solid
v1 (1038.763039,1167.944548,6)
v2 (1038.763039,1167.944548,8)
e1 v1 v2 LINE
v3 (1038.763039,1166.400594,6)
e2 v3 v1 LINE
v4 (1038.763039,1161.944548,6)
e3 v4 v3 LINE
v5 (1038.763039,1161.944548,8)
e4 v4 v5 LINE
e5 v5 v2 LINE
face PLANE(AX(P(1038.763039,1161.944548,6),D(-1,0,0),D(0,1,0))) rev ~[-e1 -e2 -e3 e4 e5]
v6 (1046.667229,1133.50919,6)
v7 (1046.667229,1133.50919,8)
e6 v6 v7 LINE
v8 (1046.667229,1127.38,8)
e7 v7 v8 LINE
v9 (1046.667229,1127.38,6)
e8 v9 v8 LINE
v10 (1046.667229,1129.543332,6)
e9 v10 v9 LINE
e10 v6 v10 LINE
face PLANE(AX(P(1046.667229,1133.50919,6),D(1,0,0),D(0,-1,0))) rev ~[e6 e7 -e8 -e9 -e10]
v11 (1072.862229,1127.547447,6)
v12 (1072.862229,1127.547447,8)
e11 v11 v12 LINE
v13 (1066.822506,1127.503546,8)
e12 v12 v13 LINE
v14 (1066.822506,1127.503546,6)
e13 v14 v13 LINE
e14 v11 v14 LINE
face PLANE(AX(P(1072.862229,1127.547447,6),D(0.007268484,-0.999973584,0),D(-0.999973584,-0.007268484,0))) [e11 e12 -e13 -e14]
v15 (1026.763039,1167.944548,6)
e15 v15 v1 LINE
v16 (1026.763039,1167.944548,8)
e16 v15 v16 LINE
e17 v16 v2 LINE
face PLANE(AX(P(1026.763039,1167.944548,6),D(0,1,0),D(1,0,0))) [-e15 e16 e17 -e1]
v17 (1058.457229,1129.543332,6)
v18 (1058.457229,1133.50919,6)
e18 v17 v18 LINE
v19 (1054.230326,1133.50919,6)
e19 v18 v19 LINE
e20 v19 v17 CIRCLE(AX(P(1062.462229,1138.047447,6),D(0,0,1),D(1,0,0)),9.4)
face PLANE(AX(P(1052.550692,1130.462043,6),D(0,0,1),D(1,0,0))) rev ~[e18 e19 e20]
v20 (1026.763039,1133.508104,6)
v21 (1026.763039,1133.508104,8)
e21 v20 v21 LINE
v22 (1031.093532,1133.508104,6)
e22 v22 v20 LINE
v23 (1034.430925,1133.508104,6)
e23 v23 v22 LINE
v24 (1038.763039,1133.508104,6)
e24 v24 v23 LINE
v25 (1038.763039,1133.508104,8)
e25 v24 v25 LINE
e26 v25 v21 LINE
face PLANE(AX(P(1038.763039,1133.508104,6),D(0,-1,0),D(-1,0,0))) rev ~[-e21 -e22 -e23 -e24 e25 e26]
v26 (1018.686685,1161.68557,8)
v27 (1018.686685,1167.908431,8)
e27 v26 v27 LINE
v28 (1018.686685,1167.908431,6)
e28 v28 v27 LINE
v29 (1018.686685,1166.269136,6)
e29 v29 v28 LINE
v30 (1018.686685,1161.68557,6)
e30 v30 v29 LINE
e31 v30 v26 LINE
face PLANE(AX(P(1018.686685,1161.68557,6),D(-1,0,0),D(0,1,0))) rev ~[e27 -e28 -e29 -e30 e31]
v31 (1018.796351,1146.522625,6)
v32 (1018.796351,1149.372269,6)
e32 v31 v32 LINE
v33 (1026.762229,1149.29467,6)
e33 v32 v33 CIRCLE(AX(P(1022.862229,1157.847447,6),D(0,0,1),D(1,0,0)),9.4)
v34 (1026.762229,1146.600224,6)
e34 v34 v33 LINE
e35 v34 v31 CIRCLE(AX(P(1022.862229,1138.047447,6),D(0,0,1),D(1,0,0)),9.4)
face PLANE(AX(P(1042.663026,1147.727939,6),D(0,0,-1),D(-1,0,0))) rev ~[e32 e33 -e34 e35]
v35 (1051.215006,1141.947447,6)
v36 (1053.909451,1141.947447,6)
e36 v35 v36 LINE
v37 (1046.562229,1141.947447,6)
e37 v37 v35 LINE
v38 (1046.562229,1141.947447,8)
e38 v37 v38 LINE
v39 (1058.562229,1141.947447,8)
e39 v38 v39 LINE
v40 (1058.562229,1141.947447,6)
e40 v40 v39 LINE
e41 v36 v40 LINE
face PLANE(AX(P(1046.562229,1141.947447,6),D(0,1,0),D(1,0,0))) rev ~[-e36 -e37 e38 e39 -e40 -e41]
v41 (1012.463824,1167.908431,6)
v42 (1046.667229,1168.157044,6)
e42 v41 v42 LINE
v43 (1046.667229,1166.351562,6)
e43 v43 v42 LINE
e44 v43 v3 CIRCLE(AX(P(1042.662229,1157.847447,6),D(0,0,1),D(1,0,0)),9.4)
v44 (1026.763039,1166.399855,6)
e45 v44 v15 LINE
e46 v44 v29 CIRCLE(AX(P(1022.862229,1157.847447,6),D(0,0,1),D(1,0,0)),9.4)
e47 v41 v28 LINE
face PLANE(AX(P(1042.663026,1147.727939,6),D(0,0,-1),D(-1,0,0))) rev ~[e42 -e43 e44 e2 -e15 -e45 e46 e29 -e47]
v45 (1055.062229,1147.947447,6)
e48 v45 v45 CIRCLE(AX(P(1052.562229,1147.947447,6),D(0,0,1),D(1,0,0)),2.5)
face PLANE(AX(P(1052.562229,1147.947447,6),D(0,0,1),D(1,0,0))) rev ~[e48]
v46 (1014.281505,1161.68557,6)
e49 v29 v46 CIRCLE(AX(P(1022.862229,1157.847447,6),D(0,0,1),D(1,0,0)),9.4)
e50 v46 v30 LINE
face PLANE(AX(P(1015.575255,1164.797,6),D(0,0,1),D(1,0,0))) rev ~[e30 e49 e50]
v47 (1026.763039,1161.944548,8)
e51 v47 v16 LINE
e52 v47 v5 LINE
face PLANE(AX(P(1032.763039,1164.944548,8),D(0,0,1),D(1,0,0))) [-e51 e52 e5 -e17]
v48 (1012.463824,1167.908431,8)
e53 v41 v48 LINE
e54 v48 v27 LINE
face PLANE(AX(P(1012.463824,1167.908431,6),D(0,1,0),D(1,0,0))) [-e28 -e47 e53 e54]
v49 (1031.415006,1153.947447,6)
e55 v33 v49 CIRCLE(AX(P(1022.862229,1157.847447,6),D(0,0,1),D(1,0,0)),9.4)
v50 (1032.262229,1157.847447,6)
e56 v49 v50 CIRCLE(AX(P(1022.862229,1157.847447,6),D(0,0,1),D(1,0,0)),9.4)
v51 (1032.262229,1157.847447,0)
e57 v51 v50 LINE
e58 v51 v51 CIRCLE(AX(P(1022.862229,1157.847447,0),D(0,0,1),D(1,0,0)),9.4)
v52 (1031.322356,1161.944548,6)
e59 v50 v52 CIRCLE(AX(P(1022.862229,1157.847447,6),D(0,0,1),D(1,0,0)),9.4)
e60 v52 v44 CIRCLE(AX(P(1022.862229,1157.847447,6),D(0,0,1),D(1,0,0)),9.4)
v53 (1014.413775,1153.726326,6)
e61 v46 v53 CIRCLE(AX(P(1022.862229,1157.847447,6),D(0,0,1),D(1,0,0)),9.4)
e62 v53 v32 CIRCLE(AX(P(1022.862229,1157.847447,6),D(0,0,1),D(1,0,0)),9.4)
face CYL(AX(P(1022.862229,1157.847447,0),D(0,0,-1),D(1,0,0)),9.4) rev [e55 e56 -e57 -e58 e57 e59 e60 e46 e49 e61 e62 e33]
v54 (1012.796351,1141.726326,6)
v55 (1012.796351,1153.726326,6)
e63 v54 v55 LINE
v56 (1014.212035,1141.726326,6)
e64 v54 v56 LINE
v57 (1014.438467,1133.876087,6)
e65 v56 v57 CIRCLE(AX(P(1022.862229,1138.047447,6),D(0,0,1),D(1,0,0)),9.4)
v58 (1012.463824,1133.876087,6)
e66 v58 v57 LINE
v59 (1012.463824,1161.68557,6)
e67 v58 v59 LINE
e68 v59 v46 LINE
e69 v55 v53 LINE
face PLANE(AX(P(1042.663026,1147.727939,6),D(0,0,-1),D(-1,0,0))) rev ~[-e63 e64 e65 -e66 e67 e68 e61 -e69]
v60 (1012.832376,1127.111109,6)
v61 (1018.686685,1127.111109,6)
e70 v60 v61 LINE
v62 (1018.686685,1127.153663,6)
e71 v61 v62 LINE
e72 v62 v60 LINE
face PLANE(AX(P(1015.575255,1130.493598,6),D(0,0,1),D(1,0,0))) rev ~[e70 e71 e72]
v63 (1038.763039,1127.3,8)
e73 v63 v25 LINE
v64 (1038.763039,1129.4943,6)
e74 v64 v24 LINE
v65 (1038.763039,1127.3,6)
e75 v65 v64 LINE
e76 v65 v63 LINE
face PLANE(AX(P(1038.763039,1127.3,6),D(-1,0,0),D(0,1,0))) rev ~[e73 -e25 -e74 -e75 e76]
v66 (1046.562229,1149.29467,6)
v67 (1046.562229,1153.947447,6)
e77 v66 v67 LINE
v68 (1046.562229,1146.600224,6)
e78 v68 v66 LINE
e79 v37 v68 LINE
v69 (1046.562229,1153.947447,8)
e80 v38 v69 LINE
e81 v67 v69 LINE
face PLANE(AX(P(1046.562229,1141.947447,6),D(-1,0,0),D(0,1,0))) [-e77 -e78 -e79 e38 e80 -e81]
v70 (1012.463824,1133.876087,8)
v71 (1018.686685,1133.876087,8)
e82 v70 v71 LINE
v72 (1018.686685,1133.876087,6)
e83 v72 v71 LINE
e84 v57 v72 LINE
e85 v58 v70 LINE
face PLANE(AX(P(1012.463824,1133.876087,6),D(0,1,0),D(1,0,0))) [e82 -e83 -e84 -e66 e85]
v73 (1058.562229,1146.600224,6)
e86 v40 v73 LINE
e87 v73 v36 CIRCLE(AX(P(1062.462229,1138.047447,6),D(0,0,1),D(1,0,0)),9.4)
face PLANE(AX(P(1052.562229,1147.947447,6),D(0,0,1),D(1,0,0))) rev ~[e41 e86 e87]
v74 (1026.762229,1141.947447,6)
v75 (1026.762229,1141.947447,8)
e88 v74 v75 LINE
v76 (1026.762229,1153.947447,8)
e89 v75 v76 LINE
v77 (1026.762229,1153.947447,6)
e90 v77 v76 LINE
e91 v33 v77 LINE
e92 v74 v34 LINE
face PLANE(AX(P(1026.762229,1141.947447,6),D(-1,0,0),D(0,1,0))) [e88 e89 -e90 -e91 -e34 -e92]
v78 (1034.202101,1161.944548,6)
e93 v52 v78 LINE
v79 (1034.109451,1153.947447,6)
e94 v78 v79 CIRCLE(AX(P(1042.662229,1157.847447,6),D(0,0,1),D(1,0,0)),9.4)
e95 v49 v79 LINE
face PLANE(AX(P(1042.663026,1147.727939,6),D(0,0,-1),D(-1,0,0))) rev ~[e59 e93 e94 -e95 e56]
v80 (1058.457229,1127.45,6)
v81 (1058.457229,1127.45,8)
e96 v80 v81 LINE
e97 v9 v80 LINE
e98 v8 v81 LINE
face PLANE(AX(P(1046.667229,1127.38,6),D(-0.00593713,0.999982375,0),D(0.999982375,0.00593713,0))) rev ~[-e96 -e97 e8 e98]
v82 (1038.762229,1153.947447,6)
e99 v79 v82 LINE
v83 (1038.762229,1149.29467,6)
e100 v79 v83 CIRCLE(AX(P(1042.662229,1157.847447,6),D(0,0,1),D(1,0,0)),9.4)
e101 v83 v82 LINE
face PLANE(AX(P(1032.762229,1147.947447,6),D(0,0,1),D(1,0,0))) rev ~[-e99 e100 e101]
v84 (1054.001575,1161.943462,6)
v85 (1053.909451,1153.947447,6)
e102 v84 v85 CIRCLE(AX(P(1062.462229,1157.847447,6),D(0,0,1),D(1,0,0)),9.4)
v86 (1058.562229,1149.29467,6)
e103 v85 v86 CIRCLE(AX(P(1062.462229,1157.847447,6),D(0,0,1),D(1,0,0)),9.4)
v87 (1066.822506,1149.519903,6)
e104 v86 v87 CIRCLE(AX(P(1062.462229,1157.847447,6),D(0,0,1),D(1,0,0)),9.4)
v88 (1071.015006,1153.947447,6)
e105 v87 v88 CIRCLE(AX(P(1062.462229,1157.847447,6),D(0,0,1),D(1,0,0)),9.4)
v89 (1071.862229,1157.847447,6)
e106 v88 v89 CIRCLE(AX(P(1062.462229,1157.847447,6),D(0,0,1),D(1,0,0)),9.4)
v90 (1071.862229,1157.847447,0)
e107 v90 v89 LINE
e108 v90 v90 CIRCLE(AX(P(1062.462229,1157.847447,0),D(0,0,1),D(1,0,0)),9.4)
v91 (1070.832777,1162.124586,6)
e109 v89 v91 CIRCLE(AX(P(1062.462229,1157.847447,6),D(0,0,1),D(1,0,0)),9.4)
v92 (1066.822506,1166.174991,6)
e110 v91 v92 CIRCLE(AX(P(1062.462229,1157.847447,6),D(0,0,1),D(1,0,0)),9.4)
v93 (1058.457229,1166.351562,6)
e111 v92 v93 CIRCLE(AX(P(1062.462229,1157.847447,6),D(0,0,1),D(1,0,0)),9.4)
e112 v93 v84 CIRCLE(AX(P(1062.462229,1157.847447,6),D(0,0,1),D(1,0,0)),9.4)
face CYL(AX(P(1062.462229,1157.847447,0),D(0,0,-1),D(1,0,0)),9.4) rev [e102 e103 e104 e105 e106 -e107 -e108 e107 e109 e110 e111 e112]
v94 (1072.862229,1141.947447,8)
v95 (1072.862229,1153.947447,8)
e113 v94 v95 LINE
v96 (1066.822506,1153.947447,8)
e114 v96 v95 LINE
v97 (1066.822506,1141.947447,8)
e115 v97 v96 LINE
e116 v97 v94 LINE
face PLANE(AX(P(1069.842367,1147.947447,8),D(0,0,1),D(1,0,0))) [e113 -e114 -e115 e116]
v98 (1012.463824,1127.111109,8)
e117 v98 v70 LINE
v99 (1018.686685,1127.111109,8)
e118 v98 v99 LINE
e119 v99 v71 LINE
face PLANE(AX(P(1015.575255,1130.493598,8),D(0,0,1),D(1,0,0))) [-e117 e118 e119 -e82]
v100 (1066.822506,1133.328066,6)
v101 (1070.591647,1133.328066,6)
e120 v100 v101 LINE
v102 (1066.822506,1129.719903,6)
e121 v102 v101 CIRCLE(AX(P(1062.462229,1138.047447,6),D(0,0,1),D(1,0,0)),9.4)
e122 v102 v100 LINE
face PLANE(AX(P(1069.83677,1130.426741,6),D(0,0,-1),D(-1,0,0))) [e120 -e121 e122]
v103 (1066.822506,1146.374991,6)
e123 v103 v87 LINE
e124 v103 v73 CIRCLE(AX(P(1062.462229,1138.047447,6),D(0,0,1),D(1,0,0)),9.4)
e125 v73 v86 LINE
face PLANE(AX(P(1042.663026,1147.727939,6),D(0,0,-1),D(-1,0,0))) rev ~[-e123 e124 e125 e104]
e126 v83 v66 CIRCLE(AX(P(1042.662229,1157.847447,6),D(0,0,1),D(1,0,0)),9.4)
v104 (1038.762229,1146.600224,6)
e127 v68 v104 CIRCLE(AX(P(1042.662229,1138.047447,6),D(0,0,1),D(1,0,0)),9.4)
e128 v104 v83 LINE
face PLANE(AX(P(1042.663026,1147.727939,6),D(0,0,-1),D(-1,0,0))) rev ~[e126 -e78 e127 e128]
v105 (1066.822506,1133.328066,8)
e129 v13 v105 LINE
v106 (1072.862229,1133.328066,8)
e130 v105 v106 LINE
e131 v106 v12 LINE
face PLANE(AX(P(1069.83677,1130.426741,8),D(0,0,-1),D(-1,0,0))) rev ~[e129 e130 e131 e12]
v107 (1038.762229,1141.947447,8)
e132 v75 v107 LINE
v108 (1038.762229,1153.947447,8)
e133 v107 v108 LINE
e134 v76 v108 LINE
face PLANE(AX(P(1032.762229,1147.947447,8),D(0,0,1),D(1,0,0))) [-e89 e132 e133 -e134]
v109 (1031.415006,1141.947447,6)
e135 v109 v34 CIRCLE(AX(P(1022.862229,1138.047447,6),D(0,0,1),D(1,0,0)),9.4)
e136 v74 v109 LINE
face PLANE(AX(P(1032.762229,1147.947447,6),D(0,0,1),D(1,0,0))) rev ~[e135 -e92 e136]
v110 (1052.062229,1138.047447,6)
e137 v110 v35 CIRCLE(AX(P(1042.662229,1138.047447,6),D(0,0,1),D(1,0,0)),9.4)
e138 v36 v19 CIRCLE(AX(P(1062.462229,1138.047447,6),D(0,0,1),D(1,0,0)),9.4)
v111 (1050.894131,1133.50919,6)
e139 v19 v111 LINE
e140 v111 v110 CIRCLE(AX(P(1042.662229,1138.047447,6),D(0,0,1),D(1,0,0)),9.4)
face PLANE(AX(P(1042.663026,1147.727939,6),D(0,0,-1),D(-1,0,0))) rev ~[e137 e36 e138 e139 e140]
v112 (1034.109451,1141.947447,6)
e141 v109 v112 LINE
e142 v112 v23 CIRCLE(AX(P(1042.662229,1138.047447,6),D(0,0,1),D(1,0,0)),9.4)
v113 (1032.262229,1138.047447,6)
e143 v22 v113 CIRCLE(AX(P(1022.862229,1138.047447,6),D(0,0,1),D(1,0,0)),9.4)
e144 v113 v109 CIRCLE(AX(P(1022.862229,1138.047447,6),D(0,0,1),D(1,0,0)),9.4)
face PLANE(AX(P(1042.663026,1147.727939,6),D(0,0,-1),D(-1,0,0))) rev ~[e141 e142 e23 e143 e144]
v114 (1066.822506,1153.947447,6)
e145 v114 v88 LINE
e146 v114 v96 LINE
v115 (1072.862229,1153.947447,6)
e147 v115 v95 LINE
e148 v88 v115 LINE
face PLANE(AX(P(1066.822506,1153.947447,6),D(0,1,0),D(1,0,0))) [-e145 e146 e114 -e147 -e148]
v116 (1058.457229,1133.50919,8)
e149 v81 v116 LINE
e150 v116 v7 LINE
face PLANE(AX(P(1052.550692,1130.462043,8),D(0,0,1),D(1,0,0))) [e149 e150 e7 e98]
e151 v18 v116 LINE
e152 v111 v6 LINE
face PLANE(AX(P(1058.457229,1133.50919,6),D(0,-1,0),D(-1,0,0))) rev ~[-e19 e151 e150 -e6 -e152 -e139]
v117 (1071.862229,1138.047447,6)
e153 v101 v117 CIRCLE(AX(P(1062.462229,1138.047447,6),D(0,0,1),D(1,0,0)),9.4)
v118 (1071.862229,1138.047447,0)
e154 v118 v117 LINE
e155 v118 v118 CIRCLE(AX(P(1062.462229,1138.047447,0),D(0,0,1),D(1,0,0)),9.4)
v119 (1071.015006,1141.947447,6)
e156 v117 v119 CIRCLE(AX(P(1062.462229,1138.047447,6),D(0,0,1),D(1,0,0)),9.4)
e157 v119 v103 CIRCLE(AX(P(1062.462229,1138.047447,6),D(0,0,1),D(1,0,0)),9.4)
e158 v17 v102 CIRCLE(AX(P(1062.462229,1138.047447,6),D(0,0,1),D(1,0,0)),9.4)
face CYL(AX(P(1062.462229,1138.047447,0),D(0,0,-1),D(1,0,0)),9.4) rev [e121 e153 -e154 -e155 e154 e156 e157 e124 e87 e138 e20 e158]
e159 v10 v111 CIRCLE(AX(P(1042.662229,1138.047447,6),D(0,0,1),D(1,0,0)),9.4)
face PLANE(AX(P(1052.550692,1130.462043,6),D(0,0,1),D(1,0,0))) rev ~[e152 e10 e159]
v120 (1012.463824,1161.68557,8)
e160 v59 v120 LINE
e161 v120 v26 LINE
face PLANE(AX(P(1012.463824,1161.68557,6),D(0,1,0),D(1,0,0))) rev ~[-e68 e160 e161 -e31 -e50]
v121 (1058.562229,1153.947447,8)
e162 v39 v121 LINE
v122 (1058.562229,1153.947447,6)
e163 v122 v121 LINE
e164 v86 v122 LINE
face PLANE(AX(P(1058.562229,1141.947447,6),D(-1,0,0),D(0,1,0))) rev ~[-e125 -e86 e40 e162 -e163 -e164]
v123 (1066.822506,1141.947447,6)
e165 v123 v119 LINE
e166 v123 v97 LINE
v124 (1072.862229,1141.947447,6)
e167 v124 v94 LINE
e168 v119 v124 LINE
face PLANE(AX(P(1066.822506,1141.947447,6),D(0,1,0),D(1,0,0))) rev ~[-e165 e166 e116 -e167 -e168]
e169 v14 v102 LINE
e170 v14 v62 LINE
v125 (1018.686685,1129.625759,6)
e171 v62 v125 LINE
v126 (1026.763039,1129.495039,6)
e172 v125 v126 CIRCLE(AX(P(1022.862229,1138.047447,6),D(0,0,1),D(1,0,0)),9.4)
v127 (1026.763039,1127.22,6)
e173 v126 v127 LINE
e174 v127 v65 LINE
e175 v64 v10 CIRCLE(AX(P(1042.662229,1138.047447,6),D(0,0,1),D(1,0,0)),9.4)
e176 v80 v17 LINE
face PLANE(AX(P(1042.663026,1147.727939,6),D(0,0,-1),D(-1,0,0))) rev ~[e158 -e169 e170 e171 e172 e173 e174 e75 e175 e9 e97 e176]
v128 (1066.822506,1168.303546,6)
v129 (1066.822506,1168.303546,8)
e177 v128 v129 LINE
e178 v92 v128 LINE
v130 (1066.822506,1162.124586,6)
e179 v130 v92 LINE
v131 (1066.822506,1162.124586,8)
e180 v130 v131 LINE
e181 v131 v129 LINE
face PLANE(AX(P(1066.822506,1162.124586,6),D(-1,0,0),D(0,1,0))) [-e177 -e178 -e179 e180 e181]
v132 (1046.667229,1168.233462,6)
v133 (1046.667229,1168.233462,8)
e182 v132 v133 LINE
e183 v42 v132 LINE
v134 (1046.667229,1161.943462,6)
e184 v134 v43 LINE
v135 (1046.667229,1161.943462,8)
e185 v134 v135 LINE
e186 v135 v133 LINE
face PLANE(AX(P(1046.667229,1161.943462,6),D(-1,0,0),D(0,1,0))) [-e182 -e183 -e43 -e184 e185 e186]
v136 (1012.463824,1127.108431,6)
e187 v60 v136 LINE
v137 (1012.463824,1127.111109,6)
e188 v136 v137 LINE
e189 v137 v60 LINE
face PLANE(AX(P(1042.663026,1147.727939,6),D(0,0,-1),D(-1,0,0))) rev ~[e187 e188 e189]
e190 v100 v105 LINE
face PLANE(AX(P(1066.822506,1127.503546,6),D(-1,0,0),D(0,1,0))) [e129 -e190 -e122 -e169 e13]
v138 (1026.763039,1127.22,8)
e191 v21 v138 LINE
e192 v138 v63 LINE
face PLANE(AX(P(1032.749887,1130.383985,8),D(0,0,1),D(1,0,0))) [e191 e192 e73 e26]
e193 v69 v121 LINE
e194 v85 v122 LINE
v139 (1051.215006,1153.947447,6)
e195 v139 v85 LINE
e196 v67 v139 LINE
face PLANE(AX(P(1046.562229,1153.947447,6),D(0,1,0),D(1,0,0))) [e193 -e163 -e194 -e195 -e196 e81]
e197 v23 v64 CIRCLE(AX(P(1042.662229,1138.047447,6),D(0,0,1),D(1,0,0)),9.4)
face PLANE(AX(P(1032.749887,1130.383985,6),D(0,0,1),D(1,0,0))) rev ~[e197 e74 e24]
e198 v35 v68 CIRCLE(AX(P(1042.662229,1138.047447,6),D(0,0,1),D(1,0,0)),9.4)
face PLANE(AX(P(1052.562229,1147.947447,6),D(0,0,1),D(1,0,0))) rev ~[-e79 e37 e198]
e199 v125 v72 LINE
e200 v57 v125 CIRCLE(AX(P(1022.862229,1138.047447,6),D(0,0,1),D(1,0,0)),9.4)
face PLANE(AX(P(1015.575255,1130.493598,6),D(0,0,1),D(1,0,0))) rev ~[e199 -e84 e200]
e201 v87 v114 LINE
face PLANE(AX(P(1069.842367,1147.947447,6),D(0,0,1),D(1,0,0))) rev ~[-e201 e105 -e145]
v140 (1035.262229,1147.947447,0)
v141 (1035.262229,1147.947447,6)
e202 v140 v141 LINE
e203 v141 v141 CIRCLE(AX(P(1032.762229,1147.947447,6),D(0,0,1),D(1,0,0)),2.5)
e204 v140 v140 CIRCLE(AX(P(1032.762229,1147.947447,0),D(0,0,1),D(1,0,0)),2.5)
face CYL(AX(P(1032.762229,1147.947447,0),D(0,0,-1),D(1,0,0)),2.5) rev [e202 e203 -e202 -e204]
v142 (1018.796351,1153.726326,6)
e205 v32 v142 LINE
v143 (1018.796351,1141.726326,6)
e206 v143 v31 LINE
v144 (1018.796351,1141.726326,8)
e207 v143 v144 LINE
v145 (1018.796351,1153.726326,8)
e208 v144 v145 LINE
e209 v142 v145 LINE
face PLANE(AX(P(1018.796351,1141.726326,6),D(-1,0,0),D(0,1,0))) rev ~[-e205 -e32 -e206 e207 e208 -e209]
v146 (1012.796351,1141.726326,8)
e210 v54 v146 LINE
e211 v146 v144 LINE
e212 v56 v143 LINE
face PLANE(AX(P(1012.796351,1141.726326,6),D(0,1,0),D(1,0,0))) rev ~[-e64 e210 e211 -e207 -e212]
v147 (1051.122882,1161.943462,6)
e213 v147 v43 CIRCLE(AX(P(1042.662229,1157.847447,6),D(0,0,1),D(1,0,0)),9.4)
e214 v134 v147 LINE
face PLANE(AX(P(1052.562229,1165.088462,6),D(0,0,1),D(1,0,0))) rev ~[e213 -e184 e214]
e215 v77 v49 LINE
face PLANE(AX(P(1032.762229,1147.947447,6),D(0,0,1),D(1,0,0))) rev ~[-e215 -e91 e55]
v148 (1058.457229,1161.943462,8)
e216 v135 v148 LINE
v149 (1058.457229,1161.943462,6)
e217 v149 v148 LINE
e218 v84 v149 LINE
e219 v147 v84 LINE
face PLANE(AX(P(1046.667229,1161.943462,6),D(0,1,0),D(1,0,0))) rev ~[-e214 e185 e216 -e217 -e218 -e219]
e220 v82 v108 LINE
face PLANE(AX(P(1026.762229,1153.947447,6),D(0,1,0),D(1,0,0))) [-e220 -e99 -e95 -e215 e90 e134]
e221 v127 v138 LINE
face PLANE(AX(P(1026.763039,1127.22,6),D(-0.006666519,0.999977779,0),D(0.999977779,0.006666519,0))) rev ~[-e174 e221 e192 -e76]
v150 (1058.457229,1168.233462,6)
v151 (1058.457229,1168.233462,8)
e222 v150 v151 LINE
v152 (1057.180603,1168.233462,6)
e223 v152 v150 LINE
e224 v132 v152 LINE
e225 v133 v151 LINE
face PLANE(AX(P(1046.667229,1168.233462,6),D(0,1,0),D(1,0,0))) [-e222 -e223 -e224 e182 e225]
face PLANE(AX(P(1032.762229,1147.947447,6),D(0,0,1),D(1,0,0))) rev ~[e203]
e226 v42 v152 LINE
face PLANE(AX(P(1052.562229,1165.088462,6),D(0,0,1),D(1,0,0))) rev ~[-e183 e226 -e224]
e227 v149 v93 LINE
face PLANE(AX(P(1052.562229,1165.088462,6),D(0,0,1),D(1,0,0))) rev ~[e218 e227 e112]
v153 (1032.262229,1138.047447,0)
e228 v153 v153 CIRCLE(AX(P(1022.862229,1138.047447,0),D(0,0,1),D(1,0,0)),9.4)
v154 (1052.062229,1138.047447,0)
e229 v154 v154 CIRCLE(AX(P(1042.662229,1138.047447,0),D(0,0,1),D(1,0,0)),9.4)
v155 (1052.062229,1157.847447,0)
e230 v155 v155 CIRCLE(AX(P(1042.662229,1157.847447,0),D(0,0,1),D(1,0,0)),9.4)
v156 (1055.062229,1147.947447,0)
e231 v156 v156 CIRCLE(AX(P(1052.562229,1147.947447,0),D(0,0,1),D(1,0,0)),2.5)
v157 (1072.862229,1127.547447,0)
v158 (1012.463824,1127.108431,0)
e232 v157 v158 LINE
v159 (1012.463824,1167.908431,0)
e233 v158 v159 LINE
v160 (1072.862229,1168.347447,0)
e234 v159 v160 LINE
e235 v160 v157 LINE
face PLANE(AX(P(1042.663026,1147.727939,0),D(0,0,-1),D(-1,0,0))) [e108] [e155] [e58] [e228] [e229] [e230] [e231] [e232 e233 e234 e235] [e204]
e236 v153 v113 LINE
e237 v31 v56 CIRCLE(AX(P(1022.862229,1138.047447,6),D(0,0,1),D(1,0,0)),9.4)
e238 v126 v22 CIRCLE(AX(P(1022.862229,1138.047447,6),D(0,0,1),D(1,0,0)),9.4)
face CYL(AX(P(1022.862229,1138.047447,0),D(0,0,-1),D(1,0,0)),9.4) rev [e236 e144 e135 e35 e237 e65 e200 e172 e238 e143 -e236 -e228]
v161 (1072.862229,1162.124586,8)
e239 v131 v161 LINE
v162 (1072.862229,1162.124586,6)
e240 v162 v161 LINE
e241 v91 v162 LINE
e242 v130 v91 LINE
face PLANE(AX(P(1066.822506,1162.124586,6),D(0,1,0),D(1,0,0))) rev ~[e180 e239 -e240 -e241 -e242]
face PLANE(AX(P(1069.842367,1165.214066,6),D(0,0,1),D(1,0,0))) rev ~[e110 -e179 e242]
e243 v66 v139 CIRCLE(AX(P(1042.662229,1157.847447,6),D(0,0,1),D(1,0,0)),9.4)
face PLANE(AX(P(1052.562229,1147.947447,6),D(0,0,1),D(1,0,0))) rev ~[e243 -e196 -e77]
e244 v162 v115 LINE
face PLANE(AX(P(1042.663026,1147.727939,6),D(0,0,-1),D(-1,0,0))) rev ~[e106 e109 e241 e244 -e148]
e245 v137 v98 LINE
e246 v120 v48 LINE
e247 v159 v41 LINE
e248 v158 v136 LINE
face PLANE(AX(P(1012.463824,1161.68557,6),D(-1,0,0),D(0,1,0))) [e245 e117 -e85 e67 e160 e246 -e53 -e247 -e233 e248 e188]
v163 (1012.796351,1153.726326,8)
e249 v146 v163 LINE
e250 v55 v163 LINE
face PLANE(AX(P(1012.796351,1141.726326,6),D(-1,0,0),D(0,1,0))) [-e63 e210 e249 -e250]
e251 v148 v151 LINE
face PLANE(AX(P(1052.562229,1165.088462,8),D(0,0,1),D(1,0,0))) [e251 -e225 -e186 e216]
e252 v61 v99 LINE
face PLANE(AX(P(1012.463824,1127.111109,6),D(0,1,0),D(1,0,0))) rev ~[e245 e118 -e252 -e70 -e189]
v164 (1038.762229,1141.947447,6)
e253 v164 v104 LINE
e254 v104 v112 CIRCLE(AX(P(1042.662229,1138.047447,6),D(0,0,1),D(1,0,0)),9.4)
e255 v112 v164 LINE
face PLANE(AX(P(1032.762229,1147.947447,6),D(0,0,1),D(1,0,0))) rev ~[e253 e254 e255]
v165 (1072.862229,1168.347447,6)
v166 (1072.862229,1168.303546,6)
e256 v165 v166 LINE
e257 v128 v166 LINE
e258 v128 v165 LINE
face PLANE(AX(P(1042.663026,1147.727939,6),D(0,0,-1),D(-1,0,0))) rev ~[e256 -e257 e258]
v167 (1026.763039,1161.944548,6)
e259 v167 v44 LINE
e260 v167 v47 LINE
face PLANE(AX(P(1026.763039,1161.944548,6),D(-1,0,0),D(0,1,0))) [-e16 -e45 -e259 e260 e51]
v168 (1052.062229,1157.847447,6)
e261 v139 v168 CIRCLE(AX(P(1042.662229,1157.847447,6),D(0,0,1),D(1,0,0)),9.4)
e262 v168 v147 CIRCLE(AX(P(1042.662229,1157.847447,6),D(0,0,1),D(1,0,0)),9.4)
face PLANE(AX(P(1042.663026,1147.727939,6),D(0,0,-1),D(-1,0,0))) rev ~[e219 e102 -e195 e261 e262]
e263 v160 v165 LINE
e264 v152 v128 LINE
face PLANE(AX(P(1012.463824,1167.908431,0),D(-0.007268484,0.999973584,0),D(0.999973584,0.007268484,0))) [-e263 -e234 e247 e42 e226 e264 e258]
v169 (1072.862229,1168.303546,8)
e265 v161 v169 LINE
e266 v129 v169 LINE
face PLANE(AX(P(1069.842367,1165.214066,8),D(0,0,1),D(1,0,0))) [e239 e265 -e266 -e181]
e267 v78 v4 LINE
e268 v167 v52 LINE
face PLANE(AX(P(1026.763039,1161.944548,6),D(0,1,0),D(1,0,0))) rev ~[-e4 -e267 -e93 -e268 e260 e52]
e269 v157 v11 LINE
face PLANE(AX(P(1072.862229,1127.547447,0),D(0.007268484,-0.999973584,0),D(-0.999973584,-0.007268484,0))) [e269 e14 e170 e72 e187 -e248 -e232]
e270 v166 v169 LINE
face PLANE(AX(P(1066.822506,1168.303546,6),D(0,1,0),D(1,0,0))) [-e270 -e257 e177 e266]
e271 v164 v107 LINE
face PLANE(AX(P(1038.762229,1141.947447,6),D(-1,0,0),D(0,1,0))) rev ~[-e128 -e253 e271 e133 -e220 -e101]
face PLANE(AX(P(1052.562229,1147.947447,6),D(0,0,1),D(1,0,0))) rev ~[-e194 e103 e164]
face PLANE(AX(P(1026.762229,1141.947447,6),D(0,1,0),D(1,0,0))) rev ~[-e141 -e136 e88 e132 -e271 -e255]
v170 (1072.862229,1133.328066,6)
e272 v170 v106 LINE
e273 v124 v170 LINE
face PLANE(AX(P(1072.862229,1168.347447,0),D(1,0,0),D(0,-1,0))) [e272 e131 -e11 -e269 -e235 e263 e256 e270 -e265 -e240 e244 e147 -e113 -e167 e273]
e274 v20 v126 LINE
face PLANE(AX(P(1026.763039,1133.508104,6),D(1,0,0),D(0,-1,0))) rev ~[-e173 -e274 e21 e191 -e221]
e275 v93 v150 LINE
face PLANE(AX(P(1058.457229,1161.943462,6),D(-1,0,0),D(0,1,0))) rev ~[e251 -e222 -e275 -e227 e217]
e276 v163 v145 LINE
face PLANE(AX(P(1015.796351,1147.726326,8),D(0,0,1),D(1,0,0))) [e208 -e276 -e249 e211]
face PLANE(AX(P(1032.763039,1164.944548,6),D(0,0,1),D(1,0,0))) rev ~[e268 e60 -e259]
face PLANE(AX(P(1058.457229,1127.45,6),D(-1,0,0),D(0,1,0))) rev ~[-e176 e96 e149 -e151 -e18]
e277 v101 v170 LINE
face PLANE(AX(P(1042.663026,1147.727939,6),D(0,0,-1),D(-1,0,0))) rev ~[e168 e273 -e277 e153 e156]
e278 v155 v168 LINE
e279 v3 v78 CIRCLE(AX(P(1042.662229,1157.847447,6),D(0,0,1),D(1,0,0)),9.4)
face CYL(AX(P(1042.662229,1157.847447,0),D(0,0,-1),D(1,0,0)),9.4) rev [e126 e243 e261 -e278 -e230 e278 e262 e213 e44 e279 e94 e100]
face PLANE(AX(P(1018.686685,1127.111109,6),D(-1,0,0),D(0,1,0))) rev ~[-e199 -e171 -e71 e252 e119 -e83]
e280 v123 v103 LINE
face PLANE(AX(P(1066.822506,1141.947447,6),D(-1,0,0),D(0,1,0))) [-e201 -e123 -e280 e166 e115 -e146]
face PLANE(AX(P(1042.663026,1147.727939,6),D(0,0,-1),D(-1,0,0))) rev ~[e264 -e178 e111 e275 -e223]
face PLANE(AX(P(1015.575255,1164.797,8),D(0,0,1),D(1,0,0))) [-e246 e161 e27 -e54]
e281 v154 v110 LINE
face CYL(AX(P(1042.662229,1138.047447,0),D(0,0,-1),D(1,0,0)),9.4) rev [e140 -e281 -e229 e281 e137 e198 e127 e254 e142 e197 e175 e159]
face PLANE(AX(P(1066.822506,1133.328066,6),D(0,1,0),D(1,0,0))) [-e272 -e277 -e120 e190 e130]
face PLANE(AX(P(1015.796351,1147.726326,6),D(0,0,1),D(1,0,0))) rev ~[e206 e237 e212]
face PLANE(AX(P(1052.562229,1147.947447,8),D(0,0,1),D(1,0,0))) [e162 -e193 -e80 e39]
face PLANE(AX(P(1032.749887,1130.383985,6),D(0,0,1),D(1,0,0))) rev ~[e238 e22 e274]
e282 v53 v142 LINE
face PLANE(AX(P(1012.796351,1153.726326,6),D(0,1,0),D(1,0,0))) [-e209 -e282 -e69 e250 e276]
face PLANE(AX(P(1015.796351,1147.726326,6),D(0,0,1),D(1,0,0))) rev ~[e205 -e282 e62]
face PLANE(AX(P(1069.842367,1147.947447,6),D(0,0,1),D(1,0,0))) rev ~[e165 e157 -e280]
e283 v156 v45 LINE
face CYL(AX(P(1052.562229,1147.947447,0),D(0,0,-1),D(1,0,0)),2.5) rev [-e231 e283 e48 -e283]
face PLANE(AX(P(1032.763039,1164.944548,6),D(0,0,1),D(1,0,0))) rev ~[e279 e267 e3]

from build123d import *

# Parameters (mm, degrees)
MODEL_R         = 9.4
MODEL_R_2       = 2.5
EXTRUDE_1_DEPTH = 6
SKETCH_2_W      = 6.222861065
SKETCH_2_H      = 6.222861065
SKETCH_2_W_2    = 12
SKETCH_2_H_2    = 6
SKETCH_2_W_3    = 11.79
SKETCH_2_H_3    = 6.29
SKETCH_2_W_4    = 6.039723033
SKETCH_2_H_4    = 6.178960273
SKETCH_2_H_5    = 12
SKETCH_2_W_5    = 6
SKETCH_2_H_6    = 6.764977387
EXTRUDE_2_DEPTH = 2


with BuildPart() as part:
    # Model → 凸台-拉伸1 (new body)
    with BuildSketch(Plane.XY):
        Polygon((1072.862228674, 1168.347447046), (1072.862228674, 1127.547447046), (1012.463824187, 1127.108430595), (1012.463824187, 1167.908430595), align=None)
        with Locations((1022.862228674, 1157.847447046)):
            Circle(MODEL_R, mode=Mode.SUBTRACT)
        with Locations((1042.662228674, 1157.847447046)):
            Circle(MODEL_R, mode=Mode.SUBTRACT)
        with Locations((1062.462228674, 1157.847447046)):
            Circle(MODEL_R, mode=Mode.SUBTRACT)
        with Locations((1022.862228674, 1138.047447046)):
            Circle(MODEL_R, mode=Mode.SUBTRACT)
        with Locations((1042.662228674, 1138.047447046)):
            Circle(MODEL_R, mode=Mode.SUBTRACT)
        with Locations((1062.462228674, 1138.047447046)):
            Circle(MODEL_R, mode=Mode.SUBTRACT)
        with Locations((1032.762228674, 1147.947447046)):
            Circle(MODEL_R_2, mode=Mode.SUBTRACT)
        with Locations((1052.562228674, 1147.947447046)):
            Circle(MODEL_R_2, mode=Mode.SUBTRACT)
    extrude(amount=EXTRUDE_1_DEPTH)

    # 草图2 → 凸台-拉伸2 (add)
    with BuildSketch(Plane.XY.offset(6)):
        with Locations((1015.57525472, 1164.797000063)):
            Rectangle(SKETCH_2_W, SKETCH_2_H)
        Polygon((1072.862228674, 1133.328066092), (1072.862228674, 1127.547447046), (1066.822505641, 1127.503546254), (1066.822505641, 1133.328066092), align=None)
        with Locations((1032.763038583, 1164.944548481)):
            Rectangle(SKETCH_2_W_2, SKETCH_2_H_2)
        with Locations((1052.562228674, 1165.088462385)):
            Rectangle(SKETCH_2_W_3, SKETCH_2_H_3)
        with Locations((1069.842367158, 1165.214066118)):
            Rectangle(SKETCH_2_W_4, SKETCH_2_H_4)
        with Locations((1032.762228674, 1147.947447046)):
            Rectangle(SKETCH_2_W_2, SKETCH_2_H_5)
        with Locations((1052.562228674, 1147.947447046)):
            Rectangle(SKETCH_2_W_2, SKETCH_2_H_5)
        with Locations((1069.842367158, 1147.947447046)):
            Rectangle(SKETCH_2_W_4, SKETCH_2_H_5)
        with Locations((1015.796351171, 1147.726326037)):
            Rectangle(SKETCH_2_W_5, SKETCH_2_H_5)
        Polygon((1058.457228674, 1127.45), (1058.457228674, 1133.509189688), (1046.667228674, 1133.509189688), (1046.667228674, 1127.38), align=None)
        Polygon((1038.763038583, 1127.3), (1038.763038583, 1133.508103592), (1026.763038583, 1133.508103592), (1026.763038583, 1127.22), align=None)
        with Locations((1015.57525472, 1130.493598172)):
            Rectangle(SKETCH_2_W, SKETCH_2_H_6)
    extrude(amount=EXTRUDE_2_DEPTH)


solid = part.part
